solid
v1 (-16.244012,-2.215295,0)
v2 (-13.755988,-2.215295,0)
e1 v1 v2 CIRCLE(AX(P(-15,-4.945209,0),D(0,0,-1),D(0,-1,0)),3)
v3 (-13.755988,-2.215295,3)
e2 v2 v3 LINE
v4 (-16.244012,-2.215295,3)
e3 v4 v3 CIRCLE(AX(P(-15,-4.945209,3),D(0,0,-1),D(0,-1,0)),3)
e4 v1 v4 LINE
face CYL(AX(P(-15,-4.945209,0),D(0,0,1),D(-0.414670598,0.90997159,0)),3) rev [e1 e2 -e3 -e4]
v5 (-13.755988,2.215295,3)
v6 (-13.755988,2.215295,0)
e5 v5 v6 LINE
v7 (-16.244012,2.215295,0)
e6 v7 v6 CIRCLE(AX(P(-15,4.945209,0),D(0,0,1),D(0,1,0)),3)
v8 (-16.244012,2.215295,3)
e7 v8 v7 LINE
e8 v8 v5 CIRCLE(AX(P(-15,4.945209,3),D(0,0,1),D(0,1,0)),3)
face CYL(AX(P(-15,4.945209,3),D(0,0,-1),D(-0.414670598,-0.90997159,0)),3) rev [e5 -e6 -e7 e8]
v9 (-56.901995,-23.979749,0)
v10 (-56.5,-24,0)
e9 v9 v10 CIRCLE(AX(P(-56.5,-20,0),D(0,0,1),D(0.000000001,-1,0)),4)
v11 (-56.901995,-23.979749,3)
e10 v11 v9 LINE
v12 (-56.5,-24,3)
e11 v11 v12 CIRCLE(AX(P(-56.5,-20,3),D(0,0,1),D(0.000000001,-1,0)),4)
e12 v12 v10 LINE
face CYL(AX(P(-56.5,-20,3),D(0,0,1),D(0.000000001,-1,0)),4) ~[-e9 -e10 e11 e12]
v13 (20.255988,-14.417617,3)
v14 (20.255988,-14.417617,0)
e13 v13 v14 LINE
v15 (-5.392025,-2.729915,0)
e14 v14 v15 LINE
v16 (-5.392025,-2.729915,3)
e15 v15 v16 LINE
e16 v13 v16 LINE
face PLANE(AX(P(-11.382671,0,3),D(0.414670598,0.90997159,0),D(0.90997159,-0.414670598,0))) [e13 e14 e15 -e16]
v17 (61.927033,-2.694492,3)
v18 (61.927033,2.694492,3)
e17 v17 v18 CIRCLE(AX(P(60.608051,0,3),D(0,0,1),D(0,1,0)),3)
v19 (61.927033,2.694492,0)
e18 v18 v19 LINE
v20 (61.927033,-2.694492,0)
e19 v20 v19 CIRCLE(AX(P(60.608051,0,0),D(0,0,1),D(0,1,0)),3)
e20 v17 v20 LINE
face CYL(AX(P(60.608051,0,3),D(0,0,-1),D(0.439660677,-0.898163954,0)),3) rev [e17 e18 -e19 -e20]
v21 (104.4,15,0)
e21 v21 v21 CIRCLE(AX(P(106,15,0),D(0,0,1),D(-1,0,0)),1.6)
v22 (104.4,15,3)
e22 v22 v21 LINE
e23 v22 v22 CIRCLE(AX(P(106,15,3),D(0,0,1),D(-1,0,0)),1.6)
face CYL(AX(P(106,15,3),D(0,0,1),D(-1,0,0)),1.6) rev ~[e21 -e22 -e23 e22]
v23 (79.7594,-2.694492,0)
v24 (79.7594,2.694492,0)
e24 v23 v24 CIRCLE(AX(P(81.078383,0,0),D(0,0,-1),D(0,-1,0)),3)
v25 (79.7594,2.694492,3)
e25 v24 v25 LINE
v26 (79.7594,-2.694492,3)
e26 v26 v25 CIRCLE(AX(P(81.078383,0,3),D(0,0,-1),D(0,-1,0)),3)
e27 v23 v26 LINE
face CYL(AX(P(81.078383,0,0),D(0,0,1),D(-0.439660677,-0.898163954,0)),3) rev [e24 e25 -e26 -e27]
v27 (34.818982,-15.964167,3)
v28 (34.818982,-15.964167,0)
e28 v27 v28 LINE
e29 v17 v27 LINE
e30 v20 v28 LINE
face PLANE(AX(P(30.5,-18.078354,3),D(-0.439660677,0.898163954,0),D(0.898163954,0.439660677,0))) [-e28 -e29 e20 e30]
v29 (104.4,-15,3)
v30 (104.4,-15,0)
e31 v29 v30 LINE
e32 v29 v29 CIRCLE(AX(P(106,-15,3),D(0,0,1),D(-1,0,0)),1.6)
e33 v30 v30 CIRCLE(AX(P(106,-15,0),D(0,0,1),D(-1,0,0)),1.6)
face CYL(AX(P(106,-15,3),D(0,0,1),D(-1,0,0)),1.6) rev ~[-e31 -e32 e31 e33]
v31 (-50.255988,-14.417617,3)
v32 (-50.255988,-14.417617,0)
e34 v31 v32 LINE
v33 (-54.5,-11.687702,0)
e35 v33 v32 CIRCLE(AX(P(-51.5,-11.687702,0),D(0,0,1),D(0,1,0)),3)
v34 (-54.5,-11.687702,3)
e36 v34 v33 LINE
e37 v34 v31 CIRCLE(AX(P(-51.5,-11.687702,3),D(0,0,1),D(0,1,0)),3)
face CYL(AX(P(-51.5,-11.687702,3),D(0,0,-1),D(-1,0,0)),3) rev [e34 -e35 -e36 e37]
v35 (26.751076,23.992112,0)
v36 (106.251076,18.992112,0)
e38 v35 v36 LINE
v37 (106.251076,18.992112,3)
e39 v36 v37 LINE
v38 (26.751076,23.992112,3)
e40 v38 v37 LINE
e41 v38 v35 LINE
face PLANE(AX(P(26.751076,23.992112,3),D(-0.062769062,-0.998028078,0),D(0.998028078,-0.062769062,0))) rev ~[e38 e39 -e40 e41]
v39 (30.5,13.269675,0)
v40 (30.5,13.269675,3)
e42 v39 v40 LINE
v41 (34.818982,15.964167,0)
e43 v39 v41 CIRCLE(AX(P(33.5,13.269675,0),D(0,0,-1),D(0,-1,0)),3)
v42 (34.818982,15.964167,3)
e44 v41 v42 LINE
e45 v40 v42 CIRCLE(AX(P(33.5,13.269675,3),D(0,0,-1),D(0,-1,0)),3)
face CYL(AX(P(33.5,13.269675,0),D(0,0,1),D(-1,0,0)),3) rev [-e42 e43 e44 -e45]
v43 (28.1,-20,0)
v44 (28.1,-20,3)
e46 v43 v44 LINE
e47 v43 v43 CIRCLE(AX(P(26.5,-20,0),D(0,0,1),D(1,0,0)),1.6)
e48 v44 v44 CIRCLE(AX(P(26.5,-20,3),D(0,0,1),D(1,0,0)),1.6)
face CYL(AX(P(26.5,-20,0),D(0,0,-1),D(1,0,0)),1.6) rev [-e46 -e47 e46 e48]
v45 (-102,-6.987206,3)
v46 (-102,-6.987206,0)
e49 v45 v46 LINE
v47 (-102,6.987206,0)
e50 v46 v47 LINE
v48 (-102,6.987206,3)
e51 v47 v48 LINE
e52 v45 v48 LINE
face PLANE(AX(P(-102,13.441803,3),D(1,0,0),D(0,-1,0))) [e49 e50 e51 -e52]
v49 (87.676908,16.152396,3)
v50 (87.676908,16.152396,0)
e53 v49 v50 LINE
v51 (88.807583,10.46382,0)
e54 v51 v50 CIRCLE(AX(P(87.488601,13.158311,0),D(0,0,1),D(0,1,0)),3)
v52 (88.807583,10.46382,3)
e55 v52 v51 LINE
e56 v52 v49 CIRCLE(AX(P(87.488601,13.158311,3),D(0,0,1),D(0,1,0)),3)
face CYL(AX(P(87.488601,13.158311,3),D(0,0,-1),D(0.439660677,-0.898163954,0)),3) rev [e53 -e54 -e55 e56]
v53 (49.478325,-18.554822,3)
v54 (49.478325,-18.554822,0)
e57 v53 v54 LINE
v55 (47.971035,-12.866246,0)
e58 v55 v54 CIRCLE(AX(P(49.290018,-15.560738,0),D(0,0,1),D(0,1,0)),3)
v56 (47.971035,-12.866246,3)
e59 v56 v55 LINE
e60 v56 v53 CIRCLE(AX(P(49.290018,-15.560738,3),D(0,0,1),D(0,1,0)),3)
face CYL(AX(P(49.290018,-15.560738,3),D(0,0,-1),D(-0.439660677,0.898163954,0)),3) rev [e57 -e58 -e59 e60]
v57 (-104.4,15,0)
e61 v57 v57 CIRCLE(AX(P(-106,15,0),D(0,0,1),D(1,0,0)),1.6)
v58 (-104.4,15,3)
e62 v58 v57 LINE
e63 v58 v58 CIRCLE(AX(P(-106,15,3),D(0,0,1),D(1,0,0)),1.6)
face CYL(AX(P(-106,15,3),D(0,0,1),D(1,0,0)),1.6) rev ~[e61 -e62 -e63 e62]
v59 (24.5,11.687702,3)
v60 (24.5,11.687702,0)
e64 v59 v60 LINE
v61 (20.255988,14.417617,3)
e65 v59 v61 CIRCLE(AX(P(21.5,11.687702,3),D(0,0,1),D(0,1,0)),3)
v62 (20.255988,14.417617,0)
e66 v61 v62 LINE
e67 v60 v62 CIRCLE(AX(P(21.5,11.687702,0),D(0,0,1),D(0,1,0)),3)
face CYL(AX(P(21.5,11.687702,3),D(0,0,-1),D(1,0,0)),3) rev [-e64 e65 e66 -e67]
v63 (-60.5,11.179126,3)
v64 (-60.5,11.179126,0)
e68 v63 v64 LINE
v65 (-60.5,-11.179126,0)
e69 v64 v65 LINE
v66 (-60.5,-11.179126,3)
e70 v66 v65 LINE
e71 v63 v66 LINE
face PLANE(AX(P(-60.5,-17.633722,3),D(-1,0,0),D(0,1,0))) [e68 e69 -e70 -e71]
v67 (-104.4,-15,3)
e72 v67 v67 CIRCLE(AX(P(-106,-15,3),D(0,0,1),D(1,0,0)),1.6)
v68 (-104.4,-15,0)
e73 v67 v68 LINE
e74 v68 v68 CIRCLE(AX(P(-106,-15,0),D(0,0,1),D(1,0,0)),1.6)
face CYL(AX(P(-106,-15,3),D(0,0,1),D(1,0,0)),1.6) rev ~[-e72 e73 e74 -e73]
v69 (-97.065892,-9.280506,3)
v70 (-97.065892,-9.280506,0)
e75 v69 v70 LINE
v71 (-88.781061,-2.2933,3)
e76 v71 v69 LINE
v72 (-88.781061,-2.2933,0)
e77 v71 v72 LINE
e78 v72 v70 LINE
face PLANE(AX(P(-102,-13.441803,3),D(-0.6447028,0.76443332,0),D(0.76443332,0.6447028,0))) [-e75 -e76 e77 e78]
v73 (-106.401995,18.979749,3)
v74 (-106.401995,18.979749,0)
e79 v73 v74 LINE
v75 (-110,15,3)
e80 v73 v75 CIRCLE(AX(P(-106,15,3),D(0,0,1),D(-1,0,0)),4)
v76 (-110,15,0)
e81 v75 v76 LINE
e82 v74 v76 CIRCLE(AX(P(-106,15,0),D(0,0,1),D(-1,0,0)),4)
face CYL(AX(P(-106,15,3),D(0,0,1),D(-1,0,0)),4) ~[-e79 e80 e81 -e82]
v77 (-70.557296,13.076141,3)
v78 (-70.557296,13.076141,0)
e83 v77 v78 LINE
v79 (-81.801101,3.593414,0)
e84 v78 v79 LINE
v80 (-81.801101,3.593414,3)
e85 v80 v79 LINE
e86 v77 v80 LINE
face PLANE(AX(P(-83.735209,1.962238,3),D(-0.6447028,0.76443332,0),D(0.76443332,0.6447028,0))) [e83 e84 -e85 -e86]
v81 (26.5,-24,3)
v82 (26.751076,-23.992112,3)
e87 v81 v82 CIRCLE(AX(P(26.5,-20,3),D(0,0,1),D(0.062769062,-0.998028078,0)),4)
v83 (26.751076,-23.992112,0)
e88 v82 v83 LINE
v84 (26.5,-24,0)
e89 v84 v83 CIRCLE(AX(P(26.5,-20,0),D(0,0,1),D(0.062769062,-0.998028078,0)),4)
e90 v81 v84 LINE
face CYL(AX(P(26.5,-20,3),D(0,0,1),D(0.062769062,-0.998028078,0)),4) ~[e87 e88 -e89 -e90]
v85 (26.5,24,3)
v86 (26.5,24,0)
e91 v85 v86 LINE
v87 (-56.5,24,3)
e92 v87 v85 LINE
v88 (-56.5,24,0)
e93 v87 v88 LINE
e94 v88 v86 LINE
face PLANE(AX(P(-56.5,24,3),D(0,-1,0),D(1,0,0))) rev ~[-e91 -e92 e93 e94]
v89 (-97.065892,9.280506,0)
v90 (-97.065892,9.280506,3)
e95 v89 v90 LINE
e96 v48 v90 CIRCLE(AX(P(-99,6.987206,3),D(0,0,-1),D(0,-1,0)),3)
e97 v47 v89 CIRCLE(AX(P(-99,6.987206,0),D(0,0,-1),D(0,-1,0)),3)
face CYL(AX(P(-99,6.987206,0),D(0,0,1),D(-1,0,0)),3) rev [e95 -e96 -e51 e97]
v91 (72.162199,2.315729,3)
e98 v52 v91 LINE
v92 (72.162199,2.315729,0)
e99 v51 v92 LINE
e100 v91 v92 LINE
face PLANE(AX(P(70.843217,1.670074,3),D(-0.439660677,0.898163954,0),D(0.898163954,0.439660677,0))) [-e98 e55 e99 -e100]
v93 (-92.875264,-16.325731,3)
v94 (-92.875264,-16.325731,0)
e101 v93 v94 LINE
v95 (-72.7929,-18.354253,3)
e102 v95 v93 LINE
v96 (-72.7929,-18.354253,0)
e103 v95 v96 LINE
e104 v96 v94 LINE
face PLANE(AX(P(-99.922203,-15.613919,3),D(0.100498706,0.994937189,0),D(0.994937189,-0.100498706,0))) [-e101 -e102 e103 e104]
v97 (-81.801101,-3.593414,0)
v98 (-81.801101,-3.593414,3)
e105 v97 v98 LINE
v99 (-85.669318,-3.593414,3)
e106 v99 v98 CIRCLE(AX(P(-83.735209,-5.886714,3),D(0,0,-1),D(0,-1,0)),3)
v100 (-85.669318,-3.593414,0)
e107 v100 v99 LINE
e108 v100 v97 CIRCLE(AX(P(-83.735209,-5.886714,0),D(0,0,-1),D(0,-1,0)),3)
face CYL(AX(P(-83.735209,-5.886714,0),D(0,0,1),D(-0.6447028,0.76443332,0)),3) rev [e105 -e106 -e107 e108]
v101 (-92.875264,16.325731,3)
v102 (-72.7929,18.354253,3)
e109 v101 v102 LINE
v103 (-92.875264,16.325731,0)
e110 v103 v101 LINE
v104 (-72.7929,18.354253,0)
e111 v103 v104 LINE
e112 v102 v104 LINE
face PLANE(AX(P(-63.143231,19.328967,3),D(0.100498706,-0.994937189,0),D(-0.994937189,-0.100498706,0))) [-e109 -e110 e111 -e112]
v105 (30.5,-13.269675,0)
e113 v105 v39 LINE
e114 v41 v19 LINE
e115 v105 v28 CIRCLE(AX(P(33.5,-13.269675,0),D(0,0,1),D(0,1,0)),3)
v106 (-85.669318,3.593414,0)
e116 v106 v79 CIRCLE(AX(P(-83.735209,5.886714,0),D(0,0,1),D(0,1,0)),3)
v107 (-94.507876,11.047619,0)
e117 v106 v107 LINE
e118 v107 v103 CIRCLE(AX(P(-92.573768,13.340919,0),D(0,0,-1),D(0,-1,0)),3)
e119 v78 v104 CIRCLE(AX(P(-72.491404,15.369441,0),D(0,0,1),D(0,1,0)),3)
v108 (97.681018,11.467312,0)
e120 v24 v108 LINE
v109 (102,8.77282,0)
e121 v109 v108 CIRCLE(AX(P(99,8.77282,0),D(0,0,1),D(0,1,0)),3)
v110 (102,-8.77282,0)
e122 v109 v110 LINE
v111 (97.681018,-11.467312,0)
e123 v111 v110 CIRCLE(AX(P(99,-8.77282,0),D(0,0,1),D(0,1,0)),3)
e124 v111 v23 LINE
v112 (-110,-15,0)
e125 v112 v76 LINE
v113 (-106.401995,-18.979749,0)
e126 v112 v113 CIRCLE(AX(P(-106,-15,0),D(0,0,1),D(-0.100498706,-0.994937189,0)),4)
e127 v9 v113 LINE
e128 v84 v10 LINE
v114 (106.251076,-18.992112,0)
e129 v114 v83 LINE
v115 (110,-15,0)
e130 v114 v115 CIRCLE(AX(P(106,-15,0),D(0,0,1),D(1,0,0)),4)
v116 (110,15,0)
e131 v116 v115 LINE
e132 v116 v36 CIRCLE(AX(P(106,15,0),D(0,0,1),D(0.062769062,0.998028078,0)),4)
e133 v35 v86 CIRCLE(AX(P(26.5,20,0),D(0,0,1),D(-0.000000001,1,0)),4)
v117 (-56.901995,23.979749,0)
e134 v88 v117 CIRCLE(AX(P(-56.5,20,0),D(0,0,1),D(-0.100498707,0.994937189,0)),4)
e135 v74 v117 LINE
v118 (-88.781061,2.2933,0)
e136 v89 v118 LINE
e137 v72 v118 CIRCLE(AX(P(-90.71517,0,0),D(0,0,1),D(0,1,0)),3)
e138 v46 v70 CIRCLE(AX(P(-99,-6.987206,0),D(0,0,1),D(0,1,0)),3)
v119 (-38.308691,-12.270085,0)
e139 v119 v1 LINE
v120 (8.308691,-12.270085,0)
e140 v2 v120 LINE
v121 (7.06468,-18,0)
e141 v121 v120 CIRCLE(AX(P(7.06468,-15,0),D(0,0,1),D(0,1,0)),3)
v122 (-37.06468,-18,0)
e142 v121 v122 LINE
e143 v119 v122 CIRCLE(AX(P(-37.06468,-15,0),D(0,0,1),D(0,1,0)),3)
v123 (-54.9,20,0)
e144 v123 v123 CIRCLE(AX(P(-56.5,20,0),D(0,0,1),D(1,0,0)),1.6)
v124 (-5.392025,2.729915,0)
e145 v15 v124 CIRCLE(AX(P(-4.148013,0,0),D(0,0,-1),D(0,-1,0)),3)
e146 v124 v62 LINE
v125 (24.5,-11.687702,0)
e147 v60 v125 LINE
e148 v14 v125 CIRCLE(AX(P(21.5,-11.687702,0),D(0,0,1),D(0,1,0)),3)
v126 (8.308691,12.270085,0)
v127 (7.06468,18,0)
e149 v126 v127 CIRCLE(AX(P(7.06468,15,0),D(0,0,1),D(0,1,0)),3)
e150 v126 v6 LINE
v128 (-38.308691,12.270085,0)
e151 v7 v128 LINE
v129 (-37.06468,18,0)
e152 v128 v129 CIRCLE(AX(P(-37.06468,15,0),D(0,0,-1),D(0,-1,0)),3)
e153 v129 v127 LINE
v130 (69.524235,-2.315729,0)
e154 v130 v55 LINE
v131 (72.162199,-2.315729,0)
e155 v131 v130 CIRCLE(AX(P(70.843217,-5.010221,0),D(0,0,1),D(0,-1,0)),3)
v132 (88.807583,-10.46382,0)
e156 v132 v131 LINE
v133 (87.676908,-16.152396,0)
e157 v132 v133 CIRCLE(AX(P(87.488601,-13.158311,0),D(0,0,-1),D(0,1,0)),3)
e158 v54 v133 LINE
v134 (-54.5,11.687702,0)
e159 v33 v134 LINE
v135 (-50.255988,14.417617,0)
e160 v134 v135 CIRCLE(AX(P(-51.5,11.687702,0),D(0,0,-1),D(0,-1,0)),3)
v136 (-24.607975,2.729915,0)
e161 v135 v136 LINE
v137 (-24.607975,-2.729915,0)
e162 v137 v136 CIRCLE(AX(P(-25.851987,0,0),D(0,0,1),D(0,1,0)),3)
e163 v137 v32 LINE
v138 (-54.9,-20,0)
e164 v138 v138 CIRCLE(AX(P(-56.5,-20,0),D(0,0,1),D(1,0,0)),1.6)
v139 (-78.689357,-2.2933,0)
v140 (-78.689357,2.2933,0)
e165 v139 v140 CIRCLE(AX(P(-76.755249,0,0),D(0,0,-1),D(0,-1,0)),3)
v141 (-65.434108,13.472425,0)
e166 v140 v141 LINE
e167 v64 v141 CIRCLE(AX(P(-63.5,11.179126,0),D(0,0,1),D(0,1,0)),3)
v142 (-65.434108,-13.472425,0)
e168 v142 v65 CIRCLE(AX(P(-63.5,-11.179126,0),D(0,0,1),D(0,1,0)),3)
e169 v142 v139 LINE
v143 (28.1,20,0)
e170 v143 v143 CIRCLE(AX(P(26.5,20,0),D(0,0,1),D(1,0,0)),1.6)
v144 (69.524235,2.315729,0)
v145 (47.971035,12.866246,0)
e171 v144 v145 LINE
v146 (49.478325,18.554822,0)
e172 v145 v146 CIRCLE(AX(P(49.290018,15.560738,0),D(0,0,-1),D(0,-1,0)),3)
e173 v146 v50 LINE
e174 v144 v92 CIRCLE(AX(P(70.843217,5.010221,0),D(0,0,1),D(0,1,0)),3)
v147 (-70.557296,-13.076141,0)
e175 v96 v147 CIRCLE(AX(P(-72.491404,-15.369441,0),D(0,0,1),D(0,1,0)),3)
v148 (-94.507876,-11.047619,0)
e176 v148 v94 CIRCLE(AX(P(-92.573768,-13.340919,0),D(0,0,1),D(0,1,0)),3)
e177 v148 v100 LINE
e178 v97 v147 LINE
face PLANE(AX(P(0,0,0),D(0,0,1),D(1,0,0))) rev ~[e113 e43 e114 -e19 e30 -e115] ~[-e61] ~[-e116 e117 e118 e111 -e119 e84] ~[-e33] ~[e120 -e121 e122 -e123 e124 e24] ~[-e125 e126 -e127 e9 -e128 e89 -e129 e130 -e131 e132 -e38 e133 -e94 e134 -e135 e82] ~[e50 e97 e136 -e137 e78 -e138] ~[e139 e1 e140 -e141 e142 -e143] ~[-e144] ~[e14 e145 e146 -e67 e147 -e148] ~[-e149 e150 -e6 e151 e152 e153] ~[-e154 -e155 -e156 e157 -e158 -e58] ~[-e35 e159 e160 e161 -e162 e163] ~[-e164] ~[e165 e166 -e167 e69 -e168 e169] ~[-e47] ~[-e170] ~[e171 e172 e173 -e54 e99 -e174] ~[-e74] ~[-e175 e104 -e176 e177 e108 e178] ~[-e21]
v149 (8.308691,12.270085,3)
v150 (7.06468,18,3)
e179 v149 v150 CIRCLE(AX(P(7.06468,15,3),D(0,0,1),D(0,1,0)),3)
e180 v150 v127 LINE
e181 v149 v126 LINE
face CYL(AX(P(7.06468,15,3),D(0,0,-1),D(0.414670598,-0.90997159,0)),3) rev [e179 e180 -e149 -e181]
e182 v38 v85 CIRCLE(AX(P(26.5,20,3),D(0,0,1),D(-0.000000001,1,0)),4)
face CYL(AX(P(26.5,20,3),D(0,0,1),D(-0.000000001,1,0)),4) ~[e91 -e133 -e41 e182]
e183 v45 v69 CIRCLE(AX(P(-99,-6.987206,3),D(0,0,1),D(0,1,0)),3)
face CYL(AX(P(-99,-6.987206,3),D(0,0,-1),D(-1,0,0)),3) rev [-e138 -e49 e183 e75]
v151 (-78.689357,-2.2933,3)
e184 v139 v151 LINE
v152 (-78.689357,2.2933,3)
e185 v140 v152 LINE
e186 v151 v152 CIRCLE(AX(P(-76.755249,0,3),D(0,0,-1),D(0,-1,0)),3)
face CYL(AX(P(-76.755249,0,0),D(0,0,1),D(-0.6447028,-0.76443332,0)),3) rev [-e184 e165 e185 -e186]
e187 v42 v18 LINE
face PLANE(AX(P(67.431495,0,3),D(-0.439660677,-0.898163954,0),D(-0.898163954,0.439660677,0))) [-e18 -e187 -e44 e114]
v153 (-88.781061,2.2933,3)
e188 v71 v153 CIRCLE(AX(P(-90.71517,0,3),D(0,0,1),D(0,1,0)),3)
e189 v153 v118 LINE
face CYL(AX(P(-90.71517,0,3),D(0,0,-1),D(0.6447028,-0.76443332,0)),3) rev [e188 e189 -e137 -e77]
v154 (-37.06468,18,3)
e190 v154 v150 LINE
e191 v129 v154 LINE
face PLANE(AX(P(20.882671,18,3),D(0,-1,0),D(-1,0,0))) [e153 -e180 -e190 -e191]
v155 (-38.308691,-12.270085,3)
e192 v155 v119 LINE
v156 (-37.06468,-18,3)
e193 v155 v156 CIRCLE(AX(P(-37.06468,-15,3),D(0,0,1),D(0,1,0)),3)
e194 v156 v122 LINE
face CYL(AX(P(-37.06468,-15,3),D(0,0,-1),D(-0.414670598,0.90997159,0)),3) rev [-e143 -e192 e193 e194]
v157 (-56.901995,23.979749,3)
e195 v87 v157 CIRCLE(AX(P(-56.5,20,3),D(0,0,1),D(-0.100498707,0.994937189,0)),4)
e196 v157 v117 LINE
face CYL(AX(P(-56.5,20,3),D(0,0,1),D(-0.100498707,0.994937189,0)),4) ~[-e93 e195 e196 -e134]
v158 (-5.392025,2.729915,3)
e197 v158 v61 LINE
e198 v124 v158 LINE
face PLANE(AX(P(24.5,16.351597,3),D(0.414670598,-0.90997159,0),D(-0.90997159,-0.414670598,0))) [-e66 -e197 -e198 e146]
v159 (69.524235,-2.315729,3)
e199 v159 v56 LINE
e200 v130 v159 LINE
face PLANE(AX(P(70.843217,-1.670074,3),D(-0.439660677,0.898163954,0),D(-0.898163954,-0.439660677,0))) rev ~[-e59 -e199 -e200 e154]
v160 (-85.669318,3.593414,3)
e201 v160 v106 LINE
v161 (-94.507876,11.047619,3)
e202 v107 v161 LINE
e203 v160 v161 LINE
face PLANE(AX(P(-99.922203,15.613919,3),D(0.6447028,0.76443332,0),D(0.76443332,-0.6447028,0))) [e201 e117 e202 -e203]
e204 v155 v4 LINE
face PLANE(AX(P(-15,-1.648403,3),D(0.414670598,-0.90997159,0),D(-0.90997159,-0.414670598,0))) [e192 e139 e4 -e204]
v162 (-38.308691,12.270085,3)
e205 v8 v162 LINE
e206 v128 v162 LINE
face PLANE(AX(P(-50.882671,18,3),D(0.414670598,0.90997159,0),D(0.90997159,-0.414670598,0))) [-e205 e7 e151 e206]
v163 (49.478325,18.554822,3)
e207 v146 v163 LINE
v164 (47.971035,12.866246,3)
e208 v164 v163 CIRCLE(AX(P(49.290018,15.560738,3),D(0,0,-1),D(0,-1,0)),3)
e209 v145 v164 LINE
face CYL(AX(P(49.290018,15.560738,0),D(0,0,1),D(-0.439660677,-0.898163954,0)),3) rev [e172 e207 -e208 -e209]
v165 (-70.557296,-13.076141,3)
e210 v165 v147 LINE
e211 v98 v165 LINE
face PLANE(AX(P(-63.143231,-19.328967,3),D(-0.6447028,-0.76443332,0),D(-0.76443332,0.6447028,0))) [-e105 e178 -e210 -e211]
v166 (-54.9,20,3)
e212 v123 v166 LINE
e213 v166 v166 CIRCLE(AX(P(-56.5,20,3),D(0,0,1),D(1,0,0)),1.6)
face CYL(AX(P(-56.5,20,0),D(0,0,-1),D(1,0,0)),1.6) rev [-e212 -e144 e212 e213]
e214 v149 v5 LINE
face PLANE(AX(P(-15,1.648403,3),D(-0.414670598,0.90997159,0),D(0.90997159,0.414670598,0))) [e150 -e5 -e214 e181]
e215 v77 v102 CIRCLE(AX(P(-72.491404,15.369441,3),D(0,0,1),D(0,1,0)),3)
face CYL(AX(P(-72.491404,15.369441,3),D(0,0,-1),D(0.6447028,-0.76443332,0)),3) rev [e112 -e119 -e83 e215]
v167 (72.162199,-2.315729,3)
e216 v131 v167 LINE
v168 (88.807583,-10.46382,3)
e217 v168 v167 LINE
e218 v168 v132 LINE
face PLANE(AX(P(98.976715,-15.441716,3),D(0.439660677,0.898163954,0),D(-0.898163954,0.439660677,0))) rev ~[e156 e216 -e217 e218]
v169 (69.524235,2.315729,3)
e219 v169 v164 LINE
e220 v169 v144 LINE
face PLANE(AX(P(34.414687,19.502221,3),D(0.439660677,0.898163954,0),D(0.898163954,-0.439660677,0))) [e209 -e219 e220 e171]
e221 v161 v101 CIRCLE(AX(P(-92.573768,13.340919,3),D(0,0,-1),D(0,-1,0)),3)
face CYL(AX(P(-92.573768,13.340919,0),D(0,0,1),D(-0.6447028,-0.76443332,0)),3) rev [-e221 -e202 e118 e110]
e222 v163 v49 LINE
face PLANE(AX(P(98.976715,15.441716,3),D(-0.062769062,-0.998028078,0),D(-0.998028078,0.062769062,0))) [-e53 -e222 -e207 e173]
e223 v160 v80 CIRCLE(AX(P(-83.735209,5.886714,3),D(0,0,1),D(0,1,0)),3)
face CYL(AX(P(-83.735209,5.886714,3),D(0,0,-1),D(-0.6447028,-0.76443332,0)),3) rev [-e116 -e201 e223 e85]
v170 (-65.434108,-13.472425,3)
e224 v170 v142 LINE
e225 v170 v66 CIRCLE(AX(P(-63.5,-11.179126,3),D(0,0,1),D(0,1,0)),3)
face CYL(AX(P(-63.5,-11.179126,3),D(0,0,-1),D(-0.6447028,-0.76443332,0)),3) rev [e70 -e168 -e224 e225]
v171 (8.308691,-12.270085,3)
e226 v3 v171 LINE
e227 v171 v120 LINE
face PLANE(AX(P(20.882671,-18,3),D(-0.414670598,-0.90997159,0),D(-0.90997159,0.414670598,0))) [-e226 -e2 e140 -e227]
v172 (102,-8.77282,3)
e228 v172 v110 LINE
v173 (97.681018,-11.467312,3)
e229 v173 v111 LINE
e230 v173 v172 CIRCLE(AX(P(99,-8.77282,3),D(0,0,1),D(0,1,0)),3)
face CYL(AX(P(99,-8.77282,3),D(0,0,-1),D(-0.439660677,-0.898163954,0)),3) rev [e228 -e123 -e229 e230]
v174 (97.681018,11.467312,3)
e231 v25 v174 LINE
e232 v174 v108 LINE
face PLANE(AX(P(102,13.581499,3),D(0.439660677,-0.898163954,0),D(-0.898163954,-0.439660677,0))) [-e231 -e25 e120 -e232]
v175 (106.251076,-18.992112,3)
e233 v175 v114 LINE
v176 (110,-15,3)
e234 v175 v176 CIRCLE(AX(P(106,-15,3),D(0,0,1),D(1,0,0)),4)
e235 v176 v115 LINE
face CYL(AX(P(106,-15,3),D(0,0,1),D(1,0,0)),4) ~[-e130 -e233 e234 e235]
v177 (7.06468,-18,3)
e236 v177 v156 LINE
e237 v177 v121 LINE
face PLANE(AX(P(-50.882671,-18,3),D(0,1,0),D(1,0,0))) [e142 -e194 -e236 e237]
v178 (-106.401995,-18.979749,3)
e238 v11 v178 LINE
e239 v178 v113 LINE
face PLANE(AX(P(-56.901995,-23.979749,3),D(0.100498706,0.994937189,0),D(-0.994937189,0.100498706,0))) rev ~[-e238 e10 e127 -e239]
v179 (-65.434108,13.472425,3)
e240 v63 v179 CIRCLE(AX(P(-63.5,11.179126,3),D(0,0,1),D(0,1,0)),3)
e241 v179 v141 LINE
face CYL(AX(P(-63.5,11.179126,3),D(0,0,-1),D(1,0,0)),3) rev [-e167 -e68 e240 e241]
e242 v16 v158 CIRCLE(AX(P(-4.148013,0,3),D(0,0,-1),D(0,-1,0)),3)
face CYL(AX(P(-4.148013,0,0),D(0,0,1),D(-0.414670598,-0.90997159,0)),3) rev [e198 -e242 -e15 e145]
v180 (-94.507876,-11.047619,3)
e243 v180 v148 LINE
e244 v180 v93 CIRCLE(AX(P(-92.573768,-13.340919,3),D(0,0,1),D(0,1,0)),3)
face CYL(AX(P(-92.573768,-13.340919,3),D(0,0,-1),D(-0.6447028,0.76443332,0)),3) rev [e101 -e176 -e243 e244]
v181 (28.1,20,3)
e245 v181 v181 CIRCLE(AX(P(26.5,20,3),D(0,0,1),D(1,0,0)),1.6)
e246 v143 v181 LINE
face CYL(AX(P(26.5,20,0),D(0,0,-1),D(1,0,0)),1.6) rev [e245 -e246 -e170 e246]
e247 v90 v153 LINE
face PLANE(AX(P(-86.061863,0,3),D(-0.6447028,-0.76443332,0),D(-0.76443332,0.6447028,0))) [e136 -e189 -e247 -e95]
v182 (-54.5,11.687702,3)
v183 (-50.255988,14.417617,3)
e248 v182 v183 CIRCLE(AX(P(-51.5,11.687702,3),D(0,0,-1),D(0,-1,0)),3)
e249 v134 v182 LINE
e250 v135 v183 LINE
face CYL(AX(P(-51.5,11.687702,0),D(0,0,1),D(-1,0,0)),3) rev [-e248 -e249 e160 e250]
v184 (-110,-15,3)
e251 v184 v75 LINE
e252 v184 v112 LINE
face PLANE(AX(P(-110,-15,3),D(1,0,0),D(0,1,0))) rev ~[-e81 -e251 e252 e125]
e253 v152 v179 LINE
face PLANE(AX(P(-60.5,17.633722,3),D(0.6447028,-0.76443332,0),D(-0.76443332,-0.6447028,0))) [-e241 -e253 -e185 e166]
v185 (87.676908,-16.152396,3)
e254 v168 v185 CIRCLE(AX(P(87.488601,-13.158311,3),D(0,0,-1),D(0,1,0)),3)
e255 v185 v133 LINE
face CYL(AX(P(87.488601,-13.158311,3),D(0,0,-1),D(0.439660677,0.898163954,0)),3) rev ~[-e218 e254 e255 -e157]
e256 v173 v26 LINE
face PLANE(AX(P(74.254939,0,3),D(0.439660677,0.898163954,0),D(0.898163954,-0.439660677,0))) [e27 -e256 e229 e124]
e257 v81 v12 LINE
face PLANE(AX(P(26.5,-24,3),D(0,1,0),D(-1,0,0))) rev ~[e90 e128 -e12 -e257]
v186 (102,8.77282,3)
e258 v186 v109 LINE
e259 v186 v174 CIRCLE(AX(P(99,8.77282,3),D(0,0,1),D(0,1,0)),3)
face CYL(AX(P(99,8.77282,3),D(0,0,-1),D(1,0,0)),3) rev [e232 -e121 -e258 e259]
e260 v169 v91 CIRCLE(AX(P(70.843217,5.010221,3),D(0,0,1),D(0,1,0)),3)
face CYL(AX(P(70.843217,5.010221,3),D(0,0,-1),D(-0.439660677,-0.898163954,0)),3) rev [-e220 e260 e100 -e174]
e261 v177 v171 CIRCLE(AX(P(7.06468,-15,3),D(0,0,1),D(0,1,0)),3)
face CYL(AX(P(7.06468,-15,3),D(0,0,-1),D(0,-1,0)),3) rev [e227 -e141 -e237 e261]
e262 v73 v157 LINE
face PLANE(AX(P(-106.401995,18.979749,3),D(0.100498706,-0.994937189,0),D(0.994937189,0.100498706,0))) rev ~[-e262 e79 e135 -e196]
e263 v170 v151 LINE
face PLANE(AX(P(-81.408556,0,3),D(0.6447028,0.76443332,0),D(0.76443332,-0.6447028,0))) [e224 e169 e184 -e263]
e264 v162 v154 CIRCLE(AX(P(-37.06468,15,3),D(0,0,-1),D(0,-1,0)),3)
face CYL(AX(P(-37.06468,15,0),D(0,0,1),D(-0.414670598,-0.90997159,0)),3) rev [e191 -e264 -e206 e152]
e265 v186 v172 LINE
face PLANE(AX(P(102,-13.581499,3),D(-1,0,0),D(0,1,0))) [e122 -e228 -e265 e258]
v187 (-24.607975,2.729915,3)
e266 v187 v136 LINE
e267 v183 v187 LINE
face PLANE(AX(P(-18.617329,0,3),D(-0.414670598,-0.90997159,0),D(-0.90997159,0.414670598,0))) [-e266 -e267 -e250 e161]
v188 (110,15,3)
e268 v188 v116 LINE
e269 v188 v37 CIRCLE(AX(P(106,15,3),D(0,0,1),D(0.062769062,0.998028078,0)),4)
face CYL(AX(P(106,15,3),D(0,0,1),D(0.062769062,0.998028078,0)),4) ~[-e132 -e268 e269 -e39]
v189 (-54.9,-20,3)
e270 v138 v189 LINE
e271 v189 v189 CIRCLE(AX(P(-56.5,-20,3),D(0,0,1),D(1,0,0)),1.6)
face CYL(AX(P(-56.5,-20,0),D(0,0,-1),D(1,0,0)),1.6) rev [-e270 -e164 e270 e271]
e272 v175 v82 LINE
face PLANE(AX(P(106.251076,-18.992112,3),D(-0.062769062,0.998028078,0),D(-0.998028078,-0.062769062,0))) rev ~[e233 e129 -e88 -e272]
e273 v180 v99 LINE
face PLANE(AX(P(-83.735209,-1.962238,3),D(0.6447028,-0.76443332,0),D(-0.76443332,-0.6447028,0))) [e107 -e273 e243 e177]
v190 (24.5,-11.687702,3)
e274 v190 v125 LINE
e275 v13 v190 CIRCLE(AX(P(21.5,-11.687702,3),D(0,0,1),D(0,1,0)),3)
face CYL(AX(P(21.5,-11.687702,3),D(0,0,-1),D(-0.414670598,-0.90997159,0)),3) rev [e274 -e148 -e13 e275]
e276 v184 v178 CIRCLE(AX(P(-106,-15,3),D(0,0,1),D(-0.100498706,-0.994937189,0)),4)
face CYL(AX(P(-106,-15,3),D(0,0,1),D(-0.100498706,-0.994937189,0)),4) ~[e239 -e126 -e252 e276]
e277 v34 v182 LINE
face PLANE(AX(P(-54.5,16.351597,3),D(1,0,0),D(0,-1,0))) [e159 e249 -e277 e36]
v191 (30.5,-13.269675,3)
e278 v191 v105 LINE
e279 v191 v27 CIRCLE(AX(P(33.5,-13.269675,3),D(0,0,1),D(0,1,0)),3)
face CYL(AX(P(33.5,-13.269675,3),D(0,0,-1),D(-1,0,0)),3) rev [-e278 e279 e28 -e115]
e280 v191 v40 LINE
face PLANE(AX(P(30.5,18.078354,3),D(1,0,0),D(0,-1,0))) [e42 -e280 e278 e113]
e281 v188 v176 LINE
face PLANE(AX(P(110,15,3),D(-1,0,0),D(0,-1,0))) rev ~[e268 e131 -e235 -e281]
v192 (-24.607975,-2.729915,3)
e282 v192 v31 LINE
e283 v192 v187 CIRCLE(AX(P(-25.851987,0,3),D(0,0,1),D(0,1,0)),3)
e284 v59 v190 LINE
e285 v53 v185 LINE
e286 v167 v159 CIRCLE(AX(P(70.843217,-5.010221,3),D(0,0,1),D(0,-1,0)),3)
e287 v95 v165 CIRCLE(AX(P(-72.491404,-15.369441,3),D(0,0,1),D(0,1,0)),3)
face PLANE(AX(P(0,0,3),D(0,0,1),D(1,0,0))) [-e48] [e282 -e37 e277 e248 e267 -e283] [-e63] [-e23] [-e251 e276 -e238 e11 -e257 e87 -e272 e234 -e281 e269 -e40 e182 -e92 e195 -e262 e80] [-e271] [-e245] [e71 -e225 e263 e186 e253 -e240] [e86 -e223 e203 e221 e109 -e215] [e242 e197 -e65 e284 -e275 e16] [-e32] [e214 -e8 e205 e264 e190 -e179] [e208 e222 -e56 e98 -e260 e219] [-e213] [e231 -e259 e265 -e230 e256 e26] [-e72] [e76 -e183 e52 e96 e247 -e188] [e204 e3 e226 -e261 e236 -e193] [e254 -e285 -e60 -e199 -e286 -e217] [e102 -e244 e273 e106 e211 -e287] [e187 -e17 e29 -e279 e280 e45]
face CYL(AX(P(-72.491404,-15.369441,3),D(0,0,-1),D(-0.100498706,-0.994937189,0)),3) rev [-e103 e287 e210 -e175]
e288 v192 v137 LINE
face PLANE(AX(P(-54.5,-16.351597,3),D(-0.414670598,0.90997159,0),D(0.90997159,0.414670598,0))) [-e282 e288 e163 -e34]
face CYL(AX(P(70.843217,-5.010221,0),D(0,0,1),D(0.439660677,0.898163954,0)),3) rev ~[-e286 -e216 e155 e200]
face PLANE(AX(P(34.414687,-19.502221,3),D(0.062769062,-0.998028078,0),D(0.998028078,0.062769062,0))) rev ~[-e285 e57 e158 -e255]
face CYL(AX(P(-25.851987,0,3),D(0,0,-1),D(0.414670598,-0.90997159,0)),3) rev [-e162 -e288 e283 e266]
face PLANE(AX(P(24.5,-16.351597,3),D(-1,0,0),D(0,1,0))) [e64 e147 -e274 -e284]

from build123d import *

# Parameters (mm, degrees)
SKETCH_1_W          = 232
SKETCH_1_H          = 56
SKETCH_1_R          = 1.6
EXTRUDE_1_DEPTH     = 3
SKETCH_2_R          = 1.6
CUT_EXTRUDE_1_DEPTH = 10
SKETCH_4_W          = 232
SKETCH_4_H          = 56
CUT_EXTRUDE_2_DEPTH = 5
CUT_EXTRUDE_3_DEPTH = 5
FILLET_1_R          = 3


with BuildPart() as part:
    # 草图1 → 凸台-拉伸1 (new body)
    with BuildSketch(Plane.XY):
        Rectangle(SKETCH_1_W, SKETCH_1_H)
        with Locations((-56.5, 20)):
            Circle(SKETCH_1_R, mode=Mode.SUBTRACT)
        with Locations((-56.5, -20)):
            Circle(SKETCH_1_R, mode=Mode.SUBTRACT)
        with Locations((26.5, -20)):
            Circle(SKETCH_1_R, mode=Mode.SUBTRACT)
        with Locations((26.5, 20)):
            Circle(SKETCH_1_R, mode=Mode.SUBTRACT)
    extrude(amount=EXTRUDE_1_DEPTH)

    # 草图2 → 切除-拉伸1 (cut)
    with BuildSketch(Plane.XY.offset(3)):
        with Locations((-106, 15)):
            Circle(SKETCH_2_R)
        with Locations((-106, -15)):
            Circle(SKETCH_2_R)
        with Locations(Location((106, -15, 0), (0, 0, 180))):
            Circle(SKETCH_2_R)
        with Locations(Location((106, 15, 0), (0, 0, 180))):
            Circle(SKETCH_2_R)
    extrude(amount=-CUT_EXTRUDE_1_DEPTH, mode=Mode.SUBTRACT)

    # 草图4 → 切除-拉伸2 (cut, symmetric)
    with BuildSketch(Plane.XY.offset(3)):
        Rectangle(SKETCH_4_W, SKETCH_4_H)
        with BuildLine():
            ThreePointArc((106.251076246, 18.992112313), (108.915845073, 17.73821977), (110, 15))
            Line((110, 15), (110, -15))
            ThreePointArc((110, -15), (108.915845073, -17.73821977), (106.251076246, -18.992112313))
            Line((106.251076246, -18.992112313), (26.751076246, -23.992112313))
            ThreePointArc((26.751076246, -23.992112313), (26.625600057, -23.998027592), (26.5, -24))
            Line((26.5, -24), (-56.5, -24))
            ThreePointArc((-56.5, -24), (-56.701252299, -23.994933981), (-56.901994824, -23.979748756))
            Line((-56.901994824, -23.979748756), (-106.401994824, -18.979748756))
            ThreePointArc((-106.401994824, -18.979748756), (-108.967151774, -17.682538043), (-110, -15))
            Line((-110, -15), (-110, 15))
            ThreePointArc((-110, 15), (-108.967151774, 17.682538043), (-106.401994824, 18.979748756))
            Line((-106.401994824, 18.979748756), (-56.901994824, 23.979748756))
            ThreePointArc((-56.901994824, 23.979748756), (-56.701252299, 23.994933981), (-56.5, 24))
            Line((-56.5, 24), (26.5, 24))
            ThreePointArc((26.5, 24), (26.625600057, 23.998027592), (26.751076246, 23.992112313))
            Line((26.751076246, 23.992112313), (106.251076246, 18.992112313))
        make_face(mode=Mode.SUBTRACT)
    extrude(amount=CUT_EXTRUDE_2_DEPTH, both=True, mode=Mode.SUBTRACT)

    # 草图6 → 切除-拉伸3 (cut, symmetric)
    with BuildSketch(Plane.XY.offset(3)):
        Polygon((-63.143230899, 19.328966576), (-99.922202515, 15.613918938), (-83.735209235, 1.962237858), align=None)
        Polygon((-60.5, 17.633721737), (-81.408555774, 0), (-60.5, -17.633721737), align=None)
        Polygon((-63.143230899, -19.328966576), (-83.735209235, -1.962237858), (-99.922202515, -15.613918938), align=None)
        Polygon((-86.061862696, 0), (-102, 13.441802546), (-102, -13.441802546), align=None)
        Polygon((-18.617329048, 0), (-54.5, 16.351596889), (-54.5, -16.351596889), align=None)
        Polygon((20.882670952, 18), (-50.882670952, 18), (-15, 1.648403111), align=None)
        Polygon((24.5, 16.351596889), (-11.382670952, 0), (24.5, -16.351596889), align=None)
        Polygon((20.882670952, -18), (-15, -1.648403111), (-50.882670952, -18), align=None)
        Polygon((67.431494542, 0), (30.5, 18.078353971), (30.5, -18.078353971), align=None)
        Polygon((98.97671451, 15.441716069), (34.414687191, 19.502220931), (70.843216532, 1.670073702), align=None)
        Polygon((102, 13.581498626), (74.254938522, 0), (102, -13.581498626), align=None)
        Polygon((98.97671451, -15.441716069), (70.843216532, -1.670073702), (34.414687191, -19.502220931), align=None)
    extrude(amount=CUT_EXTRUDE_3_DEPTH, both=True, mode=Mode.SUBTRACT)

    # 圆角1
    fillet_1_edges = [part.edges().sort_by_distance(p)[0] for p in [
        (-11.382670952, 0, 1.5),
        (24.5, 16.351596889, 1.5),
        (24.5, -16.351596889, 1.5),
        (-15, 1.648403111, 1.5),
        (-50.882670952, 18, 1.5),
        (20.882670952, 18, 1.5),
        (-50.882670952, -18, 1.5),
        (-15, -1.648403111, 1.5),
        (20.882670952, -18, 1.5),
        (30.5, -18.078353971, 1.5),
        (30.5, 18.078353971, 1.5),
        (67.431494542, 0, 1.5),
        (-83.735209235, -1.962237858, 1.5),
        (-63.143230899, -19.328966576, 1.5),
        (-99.922202515, -15.613918938, 1.5),
        (-60.5, 17.633721737, 1.5),
        (-60.5, -17.633721737, 1.5),
        (-81.408555774, 0, 1.5),
        (-86.061862696, 0, 1.5),
        (-102, -13.441802546, 1.5),
        (-102, 13.441802546, 1.5),
        (-54.5, -16.351596889, 1.5),
        (-54.5, 16.351596889, 1.5),
        (-18.617329048, 0, 1.5),
        (34.414687191, -19.502220931, 1.5),
        (70.843216532, -1.670073702, 1.5),
        (98.97671451, -15.441716069, 1.5),
        (70.843216532, 1.670073702, 1.5),
        (34.414687191, 19.502220931, 1.5),
        (98.97671451, 15.441716069, 1.5),
        (74.254938522, 0, 1.5),
        (102, 13.581498626, 1.5),
        (102, -13.581498626, 1.5),
        (-99.922202515, 15.613918938, 1.5),
        (-63.143230899, 19.328966576, 1.5),
        (-83.735209235, 1.962237858, 1.5),
    ]]
    fillet(fillet_1_edges, radius=FILLET_1_R)


solid = part.part
